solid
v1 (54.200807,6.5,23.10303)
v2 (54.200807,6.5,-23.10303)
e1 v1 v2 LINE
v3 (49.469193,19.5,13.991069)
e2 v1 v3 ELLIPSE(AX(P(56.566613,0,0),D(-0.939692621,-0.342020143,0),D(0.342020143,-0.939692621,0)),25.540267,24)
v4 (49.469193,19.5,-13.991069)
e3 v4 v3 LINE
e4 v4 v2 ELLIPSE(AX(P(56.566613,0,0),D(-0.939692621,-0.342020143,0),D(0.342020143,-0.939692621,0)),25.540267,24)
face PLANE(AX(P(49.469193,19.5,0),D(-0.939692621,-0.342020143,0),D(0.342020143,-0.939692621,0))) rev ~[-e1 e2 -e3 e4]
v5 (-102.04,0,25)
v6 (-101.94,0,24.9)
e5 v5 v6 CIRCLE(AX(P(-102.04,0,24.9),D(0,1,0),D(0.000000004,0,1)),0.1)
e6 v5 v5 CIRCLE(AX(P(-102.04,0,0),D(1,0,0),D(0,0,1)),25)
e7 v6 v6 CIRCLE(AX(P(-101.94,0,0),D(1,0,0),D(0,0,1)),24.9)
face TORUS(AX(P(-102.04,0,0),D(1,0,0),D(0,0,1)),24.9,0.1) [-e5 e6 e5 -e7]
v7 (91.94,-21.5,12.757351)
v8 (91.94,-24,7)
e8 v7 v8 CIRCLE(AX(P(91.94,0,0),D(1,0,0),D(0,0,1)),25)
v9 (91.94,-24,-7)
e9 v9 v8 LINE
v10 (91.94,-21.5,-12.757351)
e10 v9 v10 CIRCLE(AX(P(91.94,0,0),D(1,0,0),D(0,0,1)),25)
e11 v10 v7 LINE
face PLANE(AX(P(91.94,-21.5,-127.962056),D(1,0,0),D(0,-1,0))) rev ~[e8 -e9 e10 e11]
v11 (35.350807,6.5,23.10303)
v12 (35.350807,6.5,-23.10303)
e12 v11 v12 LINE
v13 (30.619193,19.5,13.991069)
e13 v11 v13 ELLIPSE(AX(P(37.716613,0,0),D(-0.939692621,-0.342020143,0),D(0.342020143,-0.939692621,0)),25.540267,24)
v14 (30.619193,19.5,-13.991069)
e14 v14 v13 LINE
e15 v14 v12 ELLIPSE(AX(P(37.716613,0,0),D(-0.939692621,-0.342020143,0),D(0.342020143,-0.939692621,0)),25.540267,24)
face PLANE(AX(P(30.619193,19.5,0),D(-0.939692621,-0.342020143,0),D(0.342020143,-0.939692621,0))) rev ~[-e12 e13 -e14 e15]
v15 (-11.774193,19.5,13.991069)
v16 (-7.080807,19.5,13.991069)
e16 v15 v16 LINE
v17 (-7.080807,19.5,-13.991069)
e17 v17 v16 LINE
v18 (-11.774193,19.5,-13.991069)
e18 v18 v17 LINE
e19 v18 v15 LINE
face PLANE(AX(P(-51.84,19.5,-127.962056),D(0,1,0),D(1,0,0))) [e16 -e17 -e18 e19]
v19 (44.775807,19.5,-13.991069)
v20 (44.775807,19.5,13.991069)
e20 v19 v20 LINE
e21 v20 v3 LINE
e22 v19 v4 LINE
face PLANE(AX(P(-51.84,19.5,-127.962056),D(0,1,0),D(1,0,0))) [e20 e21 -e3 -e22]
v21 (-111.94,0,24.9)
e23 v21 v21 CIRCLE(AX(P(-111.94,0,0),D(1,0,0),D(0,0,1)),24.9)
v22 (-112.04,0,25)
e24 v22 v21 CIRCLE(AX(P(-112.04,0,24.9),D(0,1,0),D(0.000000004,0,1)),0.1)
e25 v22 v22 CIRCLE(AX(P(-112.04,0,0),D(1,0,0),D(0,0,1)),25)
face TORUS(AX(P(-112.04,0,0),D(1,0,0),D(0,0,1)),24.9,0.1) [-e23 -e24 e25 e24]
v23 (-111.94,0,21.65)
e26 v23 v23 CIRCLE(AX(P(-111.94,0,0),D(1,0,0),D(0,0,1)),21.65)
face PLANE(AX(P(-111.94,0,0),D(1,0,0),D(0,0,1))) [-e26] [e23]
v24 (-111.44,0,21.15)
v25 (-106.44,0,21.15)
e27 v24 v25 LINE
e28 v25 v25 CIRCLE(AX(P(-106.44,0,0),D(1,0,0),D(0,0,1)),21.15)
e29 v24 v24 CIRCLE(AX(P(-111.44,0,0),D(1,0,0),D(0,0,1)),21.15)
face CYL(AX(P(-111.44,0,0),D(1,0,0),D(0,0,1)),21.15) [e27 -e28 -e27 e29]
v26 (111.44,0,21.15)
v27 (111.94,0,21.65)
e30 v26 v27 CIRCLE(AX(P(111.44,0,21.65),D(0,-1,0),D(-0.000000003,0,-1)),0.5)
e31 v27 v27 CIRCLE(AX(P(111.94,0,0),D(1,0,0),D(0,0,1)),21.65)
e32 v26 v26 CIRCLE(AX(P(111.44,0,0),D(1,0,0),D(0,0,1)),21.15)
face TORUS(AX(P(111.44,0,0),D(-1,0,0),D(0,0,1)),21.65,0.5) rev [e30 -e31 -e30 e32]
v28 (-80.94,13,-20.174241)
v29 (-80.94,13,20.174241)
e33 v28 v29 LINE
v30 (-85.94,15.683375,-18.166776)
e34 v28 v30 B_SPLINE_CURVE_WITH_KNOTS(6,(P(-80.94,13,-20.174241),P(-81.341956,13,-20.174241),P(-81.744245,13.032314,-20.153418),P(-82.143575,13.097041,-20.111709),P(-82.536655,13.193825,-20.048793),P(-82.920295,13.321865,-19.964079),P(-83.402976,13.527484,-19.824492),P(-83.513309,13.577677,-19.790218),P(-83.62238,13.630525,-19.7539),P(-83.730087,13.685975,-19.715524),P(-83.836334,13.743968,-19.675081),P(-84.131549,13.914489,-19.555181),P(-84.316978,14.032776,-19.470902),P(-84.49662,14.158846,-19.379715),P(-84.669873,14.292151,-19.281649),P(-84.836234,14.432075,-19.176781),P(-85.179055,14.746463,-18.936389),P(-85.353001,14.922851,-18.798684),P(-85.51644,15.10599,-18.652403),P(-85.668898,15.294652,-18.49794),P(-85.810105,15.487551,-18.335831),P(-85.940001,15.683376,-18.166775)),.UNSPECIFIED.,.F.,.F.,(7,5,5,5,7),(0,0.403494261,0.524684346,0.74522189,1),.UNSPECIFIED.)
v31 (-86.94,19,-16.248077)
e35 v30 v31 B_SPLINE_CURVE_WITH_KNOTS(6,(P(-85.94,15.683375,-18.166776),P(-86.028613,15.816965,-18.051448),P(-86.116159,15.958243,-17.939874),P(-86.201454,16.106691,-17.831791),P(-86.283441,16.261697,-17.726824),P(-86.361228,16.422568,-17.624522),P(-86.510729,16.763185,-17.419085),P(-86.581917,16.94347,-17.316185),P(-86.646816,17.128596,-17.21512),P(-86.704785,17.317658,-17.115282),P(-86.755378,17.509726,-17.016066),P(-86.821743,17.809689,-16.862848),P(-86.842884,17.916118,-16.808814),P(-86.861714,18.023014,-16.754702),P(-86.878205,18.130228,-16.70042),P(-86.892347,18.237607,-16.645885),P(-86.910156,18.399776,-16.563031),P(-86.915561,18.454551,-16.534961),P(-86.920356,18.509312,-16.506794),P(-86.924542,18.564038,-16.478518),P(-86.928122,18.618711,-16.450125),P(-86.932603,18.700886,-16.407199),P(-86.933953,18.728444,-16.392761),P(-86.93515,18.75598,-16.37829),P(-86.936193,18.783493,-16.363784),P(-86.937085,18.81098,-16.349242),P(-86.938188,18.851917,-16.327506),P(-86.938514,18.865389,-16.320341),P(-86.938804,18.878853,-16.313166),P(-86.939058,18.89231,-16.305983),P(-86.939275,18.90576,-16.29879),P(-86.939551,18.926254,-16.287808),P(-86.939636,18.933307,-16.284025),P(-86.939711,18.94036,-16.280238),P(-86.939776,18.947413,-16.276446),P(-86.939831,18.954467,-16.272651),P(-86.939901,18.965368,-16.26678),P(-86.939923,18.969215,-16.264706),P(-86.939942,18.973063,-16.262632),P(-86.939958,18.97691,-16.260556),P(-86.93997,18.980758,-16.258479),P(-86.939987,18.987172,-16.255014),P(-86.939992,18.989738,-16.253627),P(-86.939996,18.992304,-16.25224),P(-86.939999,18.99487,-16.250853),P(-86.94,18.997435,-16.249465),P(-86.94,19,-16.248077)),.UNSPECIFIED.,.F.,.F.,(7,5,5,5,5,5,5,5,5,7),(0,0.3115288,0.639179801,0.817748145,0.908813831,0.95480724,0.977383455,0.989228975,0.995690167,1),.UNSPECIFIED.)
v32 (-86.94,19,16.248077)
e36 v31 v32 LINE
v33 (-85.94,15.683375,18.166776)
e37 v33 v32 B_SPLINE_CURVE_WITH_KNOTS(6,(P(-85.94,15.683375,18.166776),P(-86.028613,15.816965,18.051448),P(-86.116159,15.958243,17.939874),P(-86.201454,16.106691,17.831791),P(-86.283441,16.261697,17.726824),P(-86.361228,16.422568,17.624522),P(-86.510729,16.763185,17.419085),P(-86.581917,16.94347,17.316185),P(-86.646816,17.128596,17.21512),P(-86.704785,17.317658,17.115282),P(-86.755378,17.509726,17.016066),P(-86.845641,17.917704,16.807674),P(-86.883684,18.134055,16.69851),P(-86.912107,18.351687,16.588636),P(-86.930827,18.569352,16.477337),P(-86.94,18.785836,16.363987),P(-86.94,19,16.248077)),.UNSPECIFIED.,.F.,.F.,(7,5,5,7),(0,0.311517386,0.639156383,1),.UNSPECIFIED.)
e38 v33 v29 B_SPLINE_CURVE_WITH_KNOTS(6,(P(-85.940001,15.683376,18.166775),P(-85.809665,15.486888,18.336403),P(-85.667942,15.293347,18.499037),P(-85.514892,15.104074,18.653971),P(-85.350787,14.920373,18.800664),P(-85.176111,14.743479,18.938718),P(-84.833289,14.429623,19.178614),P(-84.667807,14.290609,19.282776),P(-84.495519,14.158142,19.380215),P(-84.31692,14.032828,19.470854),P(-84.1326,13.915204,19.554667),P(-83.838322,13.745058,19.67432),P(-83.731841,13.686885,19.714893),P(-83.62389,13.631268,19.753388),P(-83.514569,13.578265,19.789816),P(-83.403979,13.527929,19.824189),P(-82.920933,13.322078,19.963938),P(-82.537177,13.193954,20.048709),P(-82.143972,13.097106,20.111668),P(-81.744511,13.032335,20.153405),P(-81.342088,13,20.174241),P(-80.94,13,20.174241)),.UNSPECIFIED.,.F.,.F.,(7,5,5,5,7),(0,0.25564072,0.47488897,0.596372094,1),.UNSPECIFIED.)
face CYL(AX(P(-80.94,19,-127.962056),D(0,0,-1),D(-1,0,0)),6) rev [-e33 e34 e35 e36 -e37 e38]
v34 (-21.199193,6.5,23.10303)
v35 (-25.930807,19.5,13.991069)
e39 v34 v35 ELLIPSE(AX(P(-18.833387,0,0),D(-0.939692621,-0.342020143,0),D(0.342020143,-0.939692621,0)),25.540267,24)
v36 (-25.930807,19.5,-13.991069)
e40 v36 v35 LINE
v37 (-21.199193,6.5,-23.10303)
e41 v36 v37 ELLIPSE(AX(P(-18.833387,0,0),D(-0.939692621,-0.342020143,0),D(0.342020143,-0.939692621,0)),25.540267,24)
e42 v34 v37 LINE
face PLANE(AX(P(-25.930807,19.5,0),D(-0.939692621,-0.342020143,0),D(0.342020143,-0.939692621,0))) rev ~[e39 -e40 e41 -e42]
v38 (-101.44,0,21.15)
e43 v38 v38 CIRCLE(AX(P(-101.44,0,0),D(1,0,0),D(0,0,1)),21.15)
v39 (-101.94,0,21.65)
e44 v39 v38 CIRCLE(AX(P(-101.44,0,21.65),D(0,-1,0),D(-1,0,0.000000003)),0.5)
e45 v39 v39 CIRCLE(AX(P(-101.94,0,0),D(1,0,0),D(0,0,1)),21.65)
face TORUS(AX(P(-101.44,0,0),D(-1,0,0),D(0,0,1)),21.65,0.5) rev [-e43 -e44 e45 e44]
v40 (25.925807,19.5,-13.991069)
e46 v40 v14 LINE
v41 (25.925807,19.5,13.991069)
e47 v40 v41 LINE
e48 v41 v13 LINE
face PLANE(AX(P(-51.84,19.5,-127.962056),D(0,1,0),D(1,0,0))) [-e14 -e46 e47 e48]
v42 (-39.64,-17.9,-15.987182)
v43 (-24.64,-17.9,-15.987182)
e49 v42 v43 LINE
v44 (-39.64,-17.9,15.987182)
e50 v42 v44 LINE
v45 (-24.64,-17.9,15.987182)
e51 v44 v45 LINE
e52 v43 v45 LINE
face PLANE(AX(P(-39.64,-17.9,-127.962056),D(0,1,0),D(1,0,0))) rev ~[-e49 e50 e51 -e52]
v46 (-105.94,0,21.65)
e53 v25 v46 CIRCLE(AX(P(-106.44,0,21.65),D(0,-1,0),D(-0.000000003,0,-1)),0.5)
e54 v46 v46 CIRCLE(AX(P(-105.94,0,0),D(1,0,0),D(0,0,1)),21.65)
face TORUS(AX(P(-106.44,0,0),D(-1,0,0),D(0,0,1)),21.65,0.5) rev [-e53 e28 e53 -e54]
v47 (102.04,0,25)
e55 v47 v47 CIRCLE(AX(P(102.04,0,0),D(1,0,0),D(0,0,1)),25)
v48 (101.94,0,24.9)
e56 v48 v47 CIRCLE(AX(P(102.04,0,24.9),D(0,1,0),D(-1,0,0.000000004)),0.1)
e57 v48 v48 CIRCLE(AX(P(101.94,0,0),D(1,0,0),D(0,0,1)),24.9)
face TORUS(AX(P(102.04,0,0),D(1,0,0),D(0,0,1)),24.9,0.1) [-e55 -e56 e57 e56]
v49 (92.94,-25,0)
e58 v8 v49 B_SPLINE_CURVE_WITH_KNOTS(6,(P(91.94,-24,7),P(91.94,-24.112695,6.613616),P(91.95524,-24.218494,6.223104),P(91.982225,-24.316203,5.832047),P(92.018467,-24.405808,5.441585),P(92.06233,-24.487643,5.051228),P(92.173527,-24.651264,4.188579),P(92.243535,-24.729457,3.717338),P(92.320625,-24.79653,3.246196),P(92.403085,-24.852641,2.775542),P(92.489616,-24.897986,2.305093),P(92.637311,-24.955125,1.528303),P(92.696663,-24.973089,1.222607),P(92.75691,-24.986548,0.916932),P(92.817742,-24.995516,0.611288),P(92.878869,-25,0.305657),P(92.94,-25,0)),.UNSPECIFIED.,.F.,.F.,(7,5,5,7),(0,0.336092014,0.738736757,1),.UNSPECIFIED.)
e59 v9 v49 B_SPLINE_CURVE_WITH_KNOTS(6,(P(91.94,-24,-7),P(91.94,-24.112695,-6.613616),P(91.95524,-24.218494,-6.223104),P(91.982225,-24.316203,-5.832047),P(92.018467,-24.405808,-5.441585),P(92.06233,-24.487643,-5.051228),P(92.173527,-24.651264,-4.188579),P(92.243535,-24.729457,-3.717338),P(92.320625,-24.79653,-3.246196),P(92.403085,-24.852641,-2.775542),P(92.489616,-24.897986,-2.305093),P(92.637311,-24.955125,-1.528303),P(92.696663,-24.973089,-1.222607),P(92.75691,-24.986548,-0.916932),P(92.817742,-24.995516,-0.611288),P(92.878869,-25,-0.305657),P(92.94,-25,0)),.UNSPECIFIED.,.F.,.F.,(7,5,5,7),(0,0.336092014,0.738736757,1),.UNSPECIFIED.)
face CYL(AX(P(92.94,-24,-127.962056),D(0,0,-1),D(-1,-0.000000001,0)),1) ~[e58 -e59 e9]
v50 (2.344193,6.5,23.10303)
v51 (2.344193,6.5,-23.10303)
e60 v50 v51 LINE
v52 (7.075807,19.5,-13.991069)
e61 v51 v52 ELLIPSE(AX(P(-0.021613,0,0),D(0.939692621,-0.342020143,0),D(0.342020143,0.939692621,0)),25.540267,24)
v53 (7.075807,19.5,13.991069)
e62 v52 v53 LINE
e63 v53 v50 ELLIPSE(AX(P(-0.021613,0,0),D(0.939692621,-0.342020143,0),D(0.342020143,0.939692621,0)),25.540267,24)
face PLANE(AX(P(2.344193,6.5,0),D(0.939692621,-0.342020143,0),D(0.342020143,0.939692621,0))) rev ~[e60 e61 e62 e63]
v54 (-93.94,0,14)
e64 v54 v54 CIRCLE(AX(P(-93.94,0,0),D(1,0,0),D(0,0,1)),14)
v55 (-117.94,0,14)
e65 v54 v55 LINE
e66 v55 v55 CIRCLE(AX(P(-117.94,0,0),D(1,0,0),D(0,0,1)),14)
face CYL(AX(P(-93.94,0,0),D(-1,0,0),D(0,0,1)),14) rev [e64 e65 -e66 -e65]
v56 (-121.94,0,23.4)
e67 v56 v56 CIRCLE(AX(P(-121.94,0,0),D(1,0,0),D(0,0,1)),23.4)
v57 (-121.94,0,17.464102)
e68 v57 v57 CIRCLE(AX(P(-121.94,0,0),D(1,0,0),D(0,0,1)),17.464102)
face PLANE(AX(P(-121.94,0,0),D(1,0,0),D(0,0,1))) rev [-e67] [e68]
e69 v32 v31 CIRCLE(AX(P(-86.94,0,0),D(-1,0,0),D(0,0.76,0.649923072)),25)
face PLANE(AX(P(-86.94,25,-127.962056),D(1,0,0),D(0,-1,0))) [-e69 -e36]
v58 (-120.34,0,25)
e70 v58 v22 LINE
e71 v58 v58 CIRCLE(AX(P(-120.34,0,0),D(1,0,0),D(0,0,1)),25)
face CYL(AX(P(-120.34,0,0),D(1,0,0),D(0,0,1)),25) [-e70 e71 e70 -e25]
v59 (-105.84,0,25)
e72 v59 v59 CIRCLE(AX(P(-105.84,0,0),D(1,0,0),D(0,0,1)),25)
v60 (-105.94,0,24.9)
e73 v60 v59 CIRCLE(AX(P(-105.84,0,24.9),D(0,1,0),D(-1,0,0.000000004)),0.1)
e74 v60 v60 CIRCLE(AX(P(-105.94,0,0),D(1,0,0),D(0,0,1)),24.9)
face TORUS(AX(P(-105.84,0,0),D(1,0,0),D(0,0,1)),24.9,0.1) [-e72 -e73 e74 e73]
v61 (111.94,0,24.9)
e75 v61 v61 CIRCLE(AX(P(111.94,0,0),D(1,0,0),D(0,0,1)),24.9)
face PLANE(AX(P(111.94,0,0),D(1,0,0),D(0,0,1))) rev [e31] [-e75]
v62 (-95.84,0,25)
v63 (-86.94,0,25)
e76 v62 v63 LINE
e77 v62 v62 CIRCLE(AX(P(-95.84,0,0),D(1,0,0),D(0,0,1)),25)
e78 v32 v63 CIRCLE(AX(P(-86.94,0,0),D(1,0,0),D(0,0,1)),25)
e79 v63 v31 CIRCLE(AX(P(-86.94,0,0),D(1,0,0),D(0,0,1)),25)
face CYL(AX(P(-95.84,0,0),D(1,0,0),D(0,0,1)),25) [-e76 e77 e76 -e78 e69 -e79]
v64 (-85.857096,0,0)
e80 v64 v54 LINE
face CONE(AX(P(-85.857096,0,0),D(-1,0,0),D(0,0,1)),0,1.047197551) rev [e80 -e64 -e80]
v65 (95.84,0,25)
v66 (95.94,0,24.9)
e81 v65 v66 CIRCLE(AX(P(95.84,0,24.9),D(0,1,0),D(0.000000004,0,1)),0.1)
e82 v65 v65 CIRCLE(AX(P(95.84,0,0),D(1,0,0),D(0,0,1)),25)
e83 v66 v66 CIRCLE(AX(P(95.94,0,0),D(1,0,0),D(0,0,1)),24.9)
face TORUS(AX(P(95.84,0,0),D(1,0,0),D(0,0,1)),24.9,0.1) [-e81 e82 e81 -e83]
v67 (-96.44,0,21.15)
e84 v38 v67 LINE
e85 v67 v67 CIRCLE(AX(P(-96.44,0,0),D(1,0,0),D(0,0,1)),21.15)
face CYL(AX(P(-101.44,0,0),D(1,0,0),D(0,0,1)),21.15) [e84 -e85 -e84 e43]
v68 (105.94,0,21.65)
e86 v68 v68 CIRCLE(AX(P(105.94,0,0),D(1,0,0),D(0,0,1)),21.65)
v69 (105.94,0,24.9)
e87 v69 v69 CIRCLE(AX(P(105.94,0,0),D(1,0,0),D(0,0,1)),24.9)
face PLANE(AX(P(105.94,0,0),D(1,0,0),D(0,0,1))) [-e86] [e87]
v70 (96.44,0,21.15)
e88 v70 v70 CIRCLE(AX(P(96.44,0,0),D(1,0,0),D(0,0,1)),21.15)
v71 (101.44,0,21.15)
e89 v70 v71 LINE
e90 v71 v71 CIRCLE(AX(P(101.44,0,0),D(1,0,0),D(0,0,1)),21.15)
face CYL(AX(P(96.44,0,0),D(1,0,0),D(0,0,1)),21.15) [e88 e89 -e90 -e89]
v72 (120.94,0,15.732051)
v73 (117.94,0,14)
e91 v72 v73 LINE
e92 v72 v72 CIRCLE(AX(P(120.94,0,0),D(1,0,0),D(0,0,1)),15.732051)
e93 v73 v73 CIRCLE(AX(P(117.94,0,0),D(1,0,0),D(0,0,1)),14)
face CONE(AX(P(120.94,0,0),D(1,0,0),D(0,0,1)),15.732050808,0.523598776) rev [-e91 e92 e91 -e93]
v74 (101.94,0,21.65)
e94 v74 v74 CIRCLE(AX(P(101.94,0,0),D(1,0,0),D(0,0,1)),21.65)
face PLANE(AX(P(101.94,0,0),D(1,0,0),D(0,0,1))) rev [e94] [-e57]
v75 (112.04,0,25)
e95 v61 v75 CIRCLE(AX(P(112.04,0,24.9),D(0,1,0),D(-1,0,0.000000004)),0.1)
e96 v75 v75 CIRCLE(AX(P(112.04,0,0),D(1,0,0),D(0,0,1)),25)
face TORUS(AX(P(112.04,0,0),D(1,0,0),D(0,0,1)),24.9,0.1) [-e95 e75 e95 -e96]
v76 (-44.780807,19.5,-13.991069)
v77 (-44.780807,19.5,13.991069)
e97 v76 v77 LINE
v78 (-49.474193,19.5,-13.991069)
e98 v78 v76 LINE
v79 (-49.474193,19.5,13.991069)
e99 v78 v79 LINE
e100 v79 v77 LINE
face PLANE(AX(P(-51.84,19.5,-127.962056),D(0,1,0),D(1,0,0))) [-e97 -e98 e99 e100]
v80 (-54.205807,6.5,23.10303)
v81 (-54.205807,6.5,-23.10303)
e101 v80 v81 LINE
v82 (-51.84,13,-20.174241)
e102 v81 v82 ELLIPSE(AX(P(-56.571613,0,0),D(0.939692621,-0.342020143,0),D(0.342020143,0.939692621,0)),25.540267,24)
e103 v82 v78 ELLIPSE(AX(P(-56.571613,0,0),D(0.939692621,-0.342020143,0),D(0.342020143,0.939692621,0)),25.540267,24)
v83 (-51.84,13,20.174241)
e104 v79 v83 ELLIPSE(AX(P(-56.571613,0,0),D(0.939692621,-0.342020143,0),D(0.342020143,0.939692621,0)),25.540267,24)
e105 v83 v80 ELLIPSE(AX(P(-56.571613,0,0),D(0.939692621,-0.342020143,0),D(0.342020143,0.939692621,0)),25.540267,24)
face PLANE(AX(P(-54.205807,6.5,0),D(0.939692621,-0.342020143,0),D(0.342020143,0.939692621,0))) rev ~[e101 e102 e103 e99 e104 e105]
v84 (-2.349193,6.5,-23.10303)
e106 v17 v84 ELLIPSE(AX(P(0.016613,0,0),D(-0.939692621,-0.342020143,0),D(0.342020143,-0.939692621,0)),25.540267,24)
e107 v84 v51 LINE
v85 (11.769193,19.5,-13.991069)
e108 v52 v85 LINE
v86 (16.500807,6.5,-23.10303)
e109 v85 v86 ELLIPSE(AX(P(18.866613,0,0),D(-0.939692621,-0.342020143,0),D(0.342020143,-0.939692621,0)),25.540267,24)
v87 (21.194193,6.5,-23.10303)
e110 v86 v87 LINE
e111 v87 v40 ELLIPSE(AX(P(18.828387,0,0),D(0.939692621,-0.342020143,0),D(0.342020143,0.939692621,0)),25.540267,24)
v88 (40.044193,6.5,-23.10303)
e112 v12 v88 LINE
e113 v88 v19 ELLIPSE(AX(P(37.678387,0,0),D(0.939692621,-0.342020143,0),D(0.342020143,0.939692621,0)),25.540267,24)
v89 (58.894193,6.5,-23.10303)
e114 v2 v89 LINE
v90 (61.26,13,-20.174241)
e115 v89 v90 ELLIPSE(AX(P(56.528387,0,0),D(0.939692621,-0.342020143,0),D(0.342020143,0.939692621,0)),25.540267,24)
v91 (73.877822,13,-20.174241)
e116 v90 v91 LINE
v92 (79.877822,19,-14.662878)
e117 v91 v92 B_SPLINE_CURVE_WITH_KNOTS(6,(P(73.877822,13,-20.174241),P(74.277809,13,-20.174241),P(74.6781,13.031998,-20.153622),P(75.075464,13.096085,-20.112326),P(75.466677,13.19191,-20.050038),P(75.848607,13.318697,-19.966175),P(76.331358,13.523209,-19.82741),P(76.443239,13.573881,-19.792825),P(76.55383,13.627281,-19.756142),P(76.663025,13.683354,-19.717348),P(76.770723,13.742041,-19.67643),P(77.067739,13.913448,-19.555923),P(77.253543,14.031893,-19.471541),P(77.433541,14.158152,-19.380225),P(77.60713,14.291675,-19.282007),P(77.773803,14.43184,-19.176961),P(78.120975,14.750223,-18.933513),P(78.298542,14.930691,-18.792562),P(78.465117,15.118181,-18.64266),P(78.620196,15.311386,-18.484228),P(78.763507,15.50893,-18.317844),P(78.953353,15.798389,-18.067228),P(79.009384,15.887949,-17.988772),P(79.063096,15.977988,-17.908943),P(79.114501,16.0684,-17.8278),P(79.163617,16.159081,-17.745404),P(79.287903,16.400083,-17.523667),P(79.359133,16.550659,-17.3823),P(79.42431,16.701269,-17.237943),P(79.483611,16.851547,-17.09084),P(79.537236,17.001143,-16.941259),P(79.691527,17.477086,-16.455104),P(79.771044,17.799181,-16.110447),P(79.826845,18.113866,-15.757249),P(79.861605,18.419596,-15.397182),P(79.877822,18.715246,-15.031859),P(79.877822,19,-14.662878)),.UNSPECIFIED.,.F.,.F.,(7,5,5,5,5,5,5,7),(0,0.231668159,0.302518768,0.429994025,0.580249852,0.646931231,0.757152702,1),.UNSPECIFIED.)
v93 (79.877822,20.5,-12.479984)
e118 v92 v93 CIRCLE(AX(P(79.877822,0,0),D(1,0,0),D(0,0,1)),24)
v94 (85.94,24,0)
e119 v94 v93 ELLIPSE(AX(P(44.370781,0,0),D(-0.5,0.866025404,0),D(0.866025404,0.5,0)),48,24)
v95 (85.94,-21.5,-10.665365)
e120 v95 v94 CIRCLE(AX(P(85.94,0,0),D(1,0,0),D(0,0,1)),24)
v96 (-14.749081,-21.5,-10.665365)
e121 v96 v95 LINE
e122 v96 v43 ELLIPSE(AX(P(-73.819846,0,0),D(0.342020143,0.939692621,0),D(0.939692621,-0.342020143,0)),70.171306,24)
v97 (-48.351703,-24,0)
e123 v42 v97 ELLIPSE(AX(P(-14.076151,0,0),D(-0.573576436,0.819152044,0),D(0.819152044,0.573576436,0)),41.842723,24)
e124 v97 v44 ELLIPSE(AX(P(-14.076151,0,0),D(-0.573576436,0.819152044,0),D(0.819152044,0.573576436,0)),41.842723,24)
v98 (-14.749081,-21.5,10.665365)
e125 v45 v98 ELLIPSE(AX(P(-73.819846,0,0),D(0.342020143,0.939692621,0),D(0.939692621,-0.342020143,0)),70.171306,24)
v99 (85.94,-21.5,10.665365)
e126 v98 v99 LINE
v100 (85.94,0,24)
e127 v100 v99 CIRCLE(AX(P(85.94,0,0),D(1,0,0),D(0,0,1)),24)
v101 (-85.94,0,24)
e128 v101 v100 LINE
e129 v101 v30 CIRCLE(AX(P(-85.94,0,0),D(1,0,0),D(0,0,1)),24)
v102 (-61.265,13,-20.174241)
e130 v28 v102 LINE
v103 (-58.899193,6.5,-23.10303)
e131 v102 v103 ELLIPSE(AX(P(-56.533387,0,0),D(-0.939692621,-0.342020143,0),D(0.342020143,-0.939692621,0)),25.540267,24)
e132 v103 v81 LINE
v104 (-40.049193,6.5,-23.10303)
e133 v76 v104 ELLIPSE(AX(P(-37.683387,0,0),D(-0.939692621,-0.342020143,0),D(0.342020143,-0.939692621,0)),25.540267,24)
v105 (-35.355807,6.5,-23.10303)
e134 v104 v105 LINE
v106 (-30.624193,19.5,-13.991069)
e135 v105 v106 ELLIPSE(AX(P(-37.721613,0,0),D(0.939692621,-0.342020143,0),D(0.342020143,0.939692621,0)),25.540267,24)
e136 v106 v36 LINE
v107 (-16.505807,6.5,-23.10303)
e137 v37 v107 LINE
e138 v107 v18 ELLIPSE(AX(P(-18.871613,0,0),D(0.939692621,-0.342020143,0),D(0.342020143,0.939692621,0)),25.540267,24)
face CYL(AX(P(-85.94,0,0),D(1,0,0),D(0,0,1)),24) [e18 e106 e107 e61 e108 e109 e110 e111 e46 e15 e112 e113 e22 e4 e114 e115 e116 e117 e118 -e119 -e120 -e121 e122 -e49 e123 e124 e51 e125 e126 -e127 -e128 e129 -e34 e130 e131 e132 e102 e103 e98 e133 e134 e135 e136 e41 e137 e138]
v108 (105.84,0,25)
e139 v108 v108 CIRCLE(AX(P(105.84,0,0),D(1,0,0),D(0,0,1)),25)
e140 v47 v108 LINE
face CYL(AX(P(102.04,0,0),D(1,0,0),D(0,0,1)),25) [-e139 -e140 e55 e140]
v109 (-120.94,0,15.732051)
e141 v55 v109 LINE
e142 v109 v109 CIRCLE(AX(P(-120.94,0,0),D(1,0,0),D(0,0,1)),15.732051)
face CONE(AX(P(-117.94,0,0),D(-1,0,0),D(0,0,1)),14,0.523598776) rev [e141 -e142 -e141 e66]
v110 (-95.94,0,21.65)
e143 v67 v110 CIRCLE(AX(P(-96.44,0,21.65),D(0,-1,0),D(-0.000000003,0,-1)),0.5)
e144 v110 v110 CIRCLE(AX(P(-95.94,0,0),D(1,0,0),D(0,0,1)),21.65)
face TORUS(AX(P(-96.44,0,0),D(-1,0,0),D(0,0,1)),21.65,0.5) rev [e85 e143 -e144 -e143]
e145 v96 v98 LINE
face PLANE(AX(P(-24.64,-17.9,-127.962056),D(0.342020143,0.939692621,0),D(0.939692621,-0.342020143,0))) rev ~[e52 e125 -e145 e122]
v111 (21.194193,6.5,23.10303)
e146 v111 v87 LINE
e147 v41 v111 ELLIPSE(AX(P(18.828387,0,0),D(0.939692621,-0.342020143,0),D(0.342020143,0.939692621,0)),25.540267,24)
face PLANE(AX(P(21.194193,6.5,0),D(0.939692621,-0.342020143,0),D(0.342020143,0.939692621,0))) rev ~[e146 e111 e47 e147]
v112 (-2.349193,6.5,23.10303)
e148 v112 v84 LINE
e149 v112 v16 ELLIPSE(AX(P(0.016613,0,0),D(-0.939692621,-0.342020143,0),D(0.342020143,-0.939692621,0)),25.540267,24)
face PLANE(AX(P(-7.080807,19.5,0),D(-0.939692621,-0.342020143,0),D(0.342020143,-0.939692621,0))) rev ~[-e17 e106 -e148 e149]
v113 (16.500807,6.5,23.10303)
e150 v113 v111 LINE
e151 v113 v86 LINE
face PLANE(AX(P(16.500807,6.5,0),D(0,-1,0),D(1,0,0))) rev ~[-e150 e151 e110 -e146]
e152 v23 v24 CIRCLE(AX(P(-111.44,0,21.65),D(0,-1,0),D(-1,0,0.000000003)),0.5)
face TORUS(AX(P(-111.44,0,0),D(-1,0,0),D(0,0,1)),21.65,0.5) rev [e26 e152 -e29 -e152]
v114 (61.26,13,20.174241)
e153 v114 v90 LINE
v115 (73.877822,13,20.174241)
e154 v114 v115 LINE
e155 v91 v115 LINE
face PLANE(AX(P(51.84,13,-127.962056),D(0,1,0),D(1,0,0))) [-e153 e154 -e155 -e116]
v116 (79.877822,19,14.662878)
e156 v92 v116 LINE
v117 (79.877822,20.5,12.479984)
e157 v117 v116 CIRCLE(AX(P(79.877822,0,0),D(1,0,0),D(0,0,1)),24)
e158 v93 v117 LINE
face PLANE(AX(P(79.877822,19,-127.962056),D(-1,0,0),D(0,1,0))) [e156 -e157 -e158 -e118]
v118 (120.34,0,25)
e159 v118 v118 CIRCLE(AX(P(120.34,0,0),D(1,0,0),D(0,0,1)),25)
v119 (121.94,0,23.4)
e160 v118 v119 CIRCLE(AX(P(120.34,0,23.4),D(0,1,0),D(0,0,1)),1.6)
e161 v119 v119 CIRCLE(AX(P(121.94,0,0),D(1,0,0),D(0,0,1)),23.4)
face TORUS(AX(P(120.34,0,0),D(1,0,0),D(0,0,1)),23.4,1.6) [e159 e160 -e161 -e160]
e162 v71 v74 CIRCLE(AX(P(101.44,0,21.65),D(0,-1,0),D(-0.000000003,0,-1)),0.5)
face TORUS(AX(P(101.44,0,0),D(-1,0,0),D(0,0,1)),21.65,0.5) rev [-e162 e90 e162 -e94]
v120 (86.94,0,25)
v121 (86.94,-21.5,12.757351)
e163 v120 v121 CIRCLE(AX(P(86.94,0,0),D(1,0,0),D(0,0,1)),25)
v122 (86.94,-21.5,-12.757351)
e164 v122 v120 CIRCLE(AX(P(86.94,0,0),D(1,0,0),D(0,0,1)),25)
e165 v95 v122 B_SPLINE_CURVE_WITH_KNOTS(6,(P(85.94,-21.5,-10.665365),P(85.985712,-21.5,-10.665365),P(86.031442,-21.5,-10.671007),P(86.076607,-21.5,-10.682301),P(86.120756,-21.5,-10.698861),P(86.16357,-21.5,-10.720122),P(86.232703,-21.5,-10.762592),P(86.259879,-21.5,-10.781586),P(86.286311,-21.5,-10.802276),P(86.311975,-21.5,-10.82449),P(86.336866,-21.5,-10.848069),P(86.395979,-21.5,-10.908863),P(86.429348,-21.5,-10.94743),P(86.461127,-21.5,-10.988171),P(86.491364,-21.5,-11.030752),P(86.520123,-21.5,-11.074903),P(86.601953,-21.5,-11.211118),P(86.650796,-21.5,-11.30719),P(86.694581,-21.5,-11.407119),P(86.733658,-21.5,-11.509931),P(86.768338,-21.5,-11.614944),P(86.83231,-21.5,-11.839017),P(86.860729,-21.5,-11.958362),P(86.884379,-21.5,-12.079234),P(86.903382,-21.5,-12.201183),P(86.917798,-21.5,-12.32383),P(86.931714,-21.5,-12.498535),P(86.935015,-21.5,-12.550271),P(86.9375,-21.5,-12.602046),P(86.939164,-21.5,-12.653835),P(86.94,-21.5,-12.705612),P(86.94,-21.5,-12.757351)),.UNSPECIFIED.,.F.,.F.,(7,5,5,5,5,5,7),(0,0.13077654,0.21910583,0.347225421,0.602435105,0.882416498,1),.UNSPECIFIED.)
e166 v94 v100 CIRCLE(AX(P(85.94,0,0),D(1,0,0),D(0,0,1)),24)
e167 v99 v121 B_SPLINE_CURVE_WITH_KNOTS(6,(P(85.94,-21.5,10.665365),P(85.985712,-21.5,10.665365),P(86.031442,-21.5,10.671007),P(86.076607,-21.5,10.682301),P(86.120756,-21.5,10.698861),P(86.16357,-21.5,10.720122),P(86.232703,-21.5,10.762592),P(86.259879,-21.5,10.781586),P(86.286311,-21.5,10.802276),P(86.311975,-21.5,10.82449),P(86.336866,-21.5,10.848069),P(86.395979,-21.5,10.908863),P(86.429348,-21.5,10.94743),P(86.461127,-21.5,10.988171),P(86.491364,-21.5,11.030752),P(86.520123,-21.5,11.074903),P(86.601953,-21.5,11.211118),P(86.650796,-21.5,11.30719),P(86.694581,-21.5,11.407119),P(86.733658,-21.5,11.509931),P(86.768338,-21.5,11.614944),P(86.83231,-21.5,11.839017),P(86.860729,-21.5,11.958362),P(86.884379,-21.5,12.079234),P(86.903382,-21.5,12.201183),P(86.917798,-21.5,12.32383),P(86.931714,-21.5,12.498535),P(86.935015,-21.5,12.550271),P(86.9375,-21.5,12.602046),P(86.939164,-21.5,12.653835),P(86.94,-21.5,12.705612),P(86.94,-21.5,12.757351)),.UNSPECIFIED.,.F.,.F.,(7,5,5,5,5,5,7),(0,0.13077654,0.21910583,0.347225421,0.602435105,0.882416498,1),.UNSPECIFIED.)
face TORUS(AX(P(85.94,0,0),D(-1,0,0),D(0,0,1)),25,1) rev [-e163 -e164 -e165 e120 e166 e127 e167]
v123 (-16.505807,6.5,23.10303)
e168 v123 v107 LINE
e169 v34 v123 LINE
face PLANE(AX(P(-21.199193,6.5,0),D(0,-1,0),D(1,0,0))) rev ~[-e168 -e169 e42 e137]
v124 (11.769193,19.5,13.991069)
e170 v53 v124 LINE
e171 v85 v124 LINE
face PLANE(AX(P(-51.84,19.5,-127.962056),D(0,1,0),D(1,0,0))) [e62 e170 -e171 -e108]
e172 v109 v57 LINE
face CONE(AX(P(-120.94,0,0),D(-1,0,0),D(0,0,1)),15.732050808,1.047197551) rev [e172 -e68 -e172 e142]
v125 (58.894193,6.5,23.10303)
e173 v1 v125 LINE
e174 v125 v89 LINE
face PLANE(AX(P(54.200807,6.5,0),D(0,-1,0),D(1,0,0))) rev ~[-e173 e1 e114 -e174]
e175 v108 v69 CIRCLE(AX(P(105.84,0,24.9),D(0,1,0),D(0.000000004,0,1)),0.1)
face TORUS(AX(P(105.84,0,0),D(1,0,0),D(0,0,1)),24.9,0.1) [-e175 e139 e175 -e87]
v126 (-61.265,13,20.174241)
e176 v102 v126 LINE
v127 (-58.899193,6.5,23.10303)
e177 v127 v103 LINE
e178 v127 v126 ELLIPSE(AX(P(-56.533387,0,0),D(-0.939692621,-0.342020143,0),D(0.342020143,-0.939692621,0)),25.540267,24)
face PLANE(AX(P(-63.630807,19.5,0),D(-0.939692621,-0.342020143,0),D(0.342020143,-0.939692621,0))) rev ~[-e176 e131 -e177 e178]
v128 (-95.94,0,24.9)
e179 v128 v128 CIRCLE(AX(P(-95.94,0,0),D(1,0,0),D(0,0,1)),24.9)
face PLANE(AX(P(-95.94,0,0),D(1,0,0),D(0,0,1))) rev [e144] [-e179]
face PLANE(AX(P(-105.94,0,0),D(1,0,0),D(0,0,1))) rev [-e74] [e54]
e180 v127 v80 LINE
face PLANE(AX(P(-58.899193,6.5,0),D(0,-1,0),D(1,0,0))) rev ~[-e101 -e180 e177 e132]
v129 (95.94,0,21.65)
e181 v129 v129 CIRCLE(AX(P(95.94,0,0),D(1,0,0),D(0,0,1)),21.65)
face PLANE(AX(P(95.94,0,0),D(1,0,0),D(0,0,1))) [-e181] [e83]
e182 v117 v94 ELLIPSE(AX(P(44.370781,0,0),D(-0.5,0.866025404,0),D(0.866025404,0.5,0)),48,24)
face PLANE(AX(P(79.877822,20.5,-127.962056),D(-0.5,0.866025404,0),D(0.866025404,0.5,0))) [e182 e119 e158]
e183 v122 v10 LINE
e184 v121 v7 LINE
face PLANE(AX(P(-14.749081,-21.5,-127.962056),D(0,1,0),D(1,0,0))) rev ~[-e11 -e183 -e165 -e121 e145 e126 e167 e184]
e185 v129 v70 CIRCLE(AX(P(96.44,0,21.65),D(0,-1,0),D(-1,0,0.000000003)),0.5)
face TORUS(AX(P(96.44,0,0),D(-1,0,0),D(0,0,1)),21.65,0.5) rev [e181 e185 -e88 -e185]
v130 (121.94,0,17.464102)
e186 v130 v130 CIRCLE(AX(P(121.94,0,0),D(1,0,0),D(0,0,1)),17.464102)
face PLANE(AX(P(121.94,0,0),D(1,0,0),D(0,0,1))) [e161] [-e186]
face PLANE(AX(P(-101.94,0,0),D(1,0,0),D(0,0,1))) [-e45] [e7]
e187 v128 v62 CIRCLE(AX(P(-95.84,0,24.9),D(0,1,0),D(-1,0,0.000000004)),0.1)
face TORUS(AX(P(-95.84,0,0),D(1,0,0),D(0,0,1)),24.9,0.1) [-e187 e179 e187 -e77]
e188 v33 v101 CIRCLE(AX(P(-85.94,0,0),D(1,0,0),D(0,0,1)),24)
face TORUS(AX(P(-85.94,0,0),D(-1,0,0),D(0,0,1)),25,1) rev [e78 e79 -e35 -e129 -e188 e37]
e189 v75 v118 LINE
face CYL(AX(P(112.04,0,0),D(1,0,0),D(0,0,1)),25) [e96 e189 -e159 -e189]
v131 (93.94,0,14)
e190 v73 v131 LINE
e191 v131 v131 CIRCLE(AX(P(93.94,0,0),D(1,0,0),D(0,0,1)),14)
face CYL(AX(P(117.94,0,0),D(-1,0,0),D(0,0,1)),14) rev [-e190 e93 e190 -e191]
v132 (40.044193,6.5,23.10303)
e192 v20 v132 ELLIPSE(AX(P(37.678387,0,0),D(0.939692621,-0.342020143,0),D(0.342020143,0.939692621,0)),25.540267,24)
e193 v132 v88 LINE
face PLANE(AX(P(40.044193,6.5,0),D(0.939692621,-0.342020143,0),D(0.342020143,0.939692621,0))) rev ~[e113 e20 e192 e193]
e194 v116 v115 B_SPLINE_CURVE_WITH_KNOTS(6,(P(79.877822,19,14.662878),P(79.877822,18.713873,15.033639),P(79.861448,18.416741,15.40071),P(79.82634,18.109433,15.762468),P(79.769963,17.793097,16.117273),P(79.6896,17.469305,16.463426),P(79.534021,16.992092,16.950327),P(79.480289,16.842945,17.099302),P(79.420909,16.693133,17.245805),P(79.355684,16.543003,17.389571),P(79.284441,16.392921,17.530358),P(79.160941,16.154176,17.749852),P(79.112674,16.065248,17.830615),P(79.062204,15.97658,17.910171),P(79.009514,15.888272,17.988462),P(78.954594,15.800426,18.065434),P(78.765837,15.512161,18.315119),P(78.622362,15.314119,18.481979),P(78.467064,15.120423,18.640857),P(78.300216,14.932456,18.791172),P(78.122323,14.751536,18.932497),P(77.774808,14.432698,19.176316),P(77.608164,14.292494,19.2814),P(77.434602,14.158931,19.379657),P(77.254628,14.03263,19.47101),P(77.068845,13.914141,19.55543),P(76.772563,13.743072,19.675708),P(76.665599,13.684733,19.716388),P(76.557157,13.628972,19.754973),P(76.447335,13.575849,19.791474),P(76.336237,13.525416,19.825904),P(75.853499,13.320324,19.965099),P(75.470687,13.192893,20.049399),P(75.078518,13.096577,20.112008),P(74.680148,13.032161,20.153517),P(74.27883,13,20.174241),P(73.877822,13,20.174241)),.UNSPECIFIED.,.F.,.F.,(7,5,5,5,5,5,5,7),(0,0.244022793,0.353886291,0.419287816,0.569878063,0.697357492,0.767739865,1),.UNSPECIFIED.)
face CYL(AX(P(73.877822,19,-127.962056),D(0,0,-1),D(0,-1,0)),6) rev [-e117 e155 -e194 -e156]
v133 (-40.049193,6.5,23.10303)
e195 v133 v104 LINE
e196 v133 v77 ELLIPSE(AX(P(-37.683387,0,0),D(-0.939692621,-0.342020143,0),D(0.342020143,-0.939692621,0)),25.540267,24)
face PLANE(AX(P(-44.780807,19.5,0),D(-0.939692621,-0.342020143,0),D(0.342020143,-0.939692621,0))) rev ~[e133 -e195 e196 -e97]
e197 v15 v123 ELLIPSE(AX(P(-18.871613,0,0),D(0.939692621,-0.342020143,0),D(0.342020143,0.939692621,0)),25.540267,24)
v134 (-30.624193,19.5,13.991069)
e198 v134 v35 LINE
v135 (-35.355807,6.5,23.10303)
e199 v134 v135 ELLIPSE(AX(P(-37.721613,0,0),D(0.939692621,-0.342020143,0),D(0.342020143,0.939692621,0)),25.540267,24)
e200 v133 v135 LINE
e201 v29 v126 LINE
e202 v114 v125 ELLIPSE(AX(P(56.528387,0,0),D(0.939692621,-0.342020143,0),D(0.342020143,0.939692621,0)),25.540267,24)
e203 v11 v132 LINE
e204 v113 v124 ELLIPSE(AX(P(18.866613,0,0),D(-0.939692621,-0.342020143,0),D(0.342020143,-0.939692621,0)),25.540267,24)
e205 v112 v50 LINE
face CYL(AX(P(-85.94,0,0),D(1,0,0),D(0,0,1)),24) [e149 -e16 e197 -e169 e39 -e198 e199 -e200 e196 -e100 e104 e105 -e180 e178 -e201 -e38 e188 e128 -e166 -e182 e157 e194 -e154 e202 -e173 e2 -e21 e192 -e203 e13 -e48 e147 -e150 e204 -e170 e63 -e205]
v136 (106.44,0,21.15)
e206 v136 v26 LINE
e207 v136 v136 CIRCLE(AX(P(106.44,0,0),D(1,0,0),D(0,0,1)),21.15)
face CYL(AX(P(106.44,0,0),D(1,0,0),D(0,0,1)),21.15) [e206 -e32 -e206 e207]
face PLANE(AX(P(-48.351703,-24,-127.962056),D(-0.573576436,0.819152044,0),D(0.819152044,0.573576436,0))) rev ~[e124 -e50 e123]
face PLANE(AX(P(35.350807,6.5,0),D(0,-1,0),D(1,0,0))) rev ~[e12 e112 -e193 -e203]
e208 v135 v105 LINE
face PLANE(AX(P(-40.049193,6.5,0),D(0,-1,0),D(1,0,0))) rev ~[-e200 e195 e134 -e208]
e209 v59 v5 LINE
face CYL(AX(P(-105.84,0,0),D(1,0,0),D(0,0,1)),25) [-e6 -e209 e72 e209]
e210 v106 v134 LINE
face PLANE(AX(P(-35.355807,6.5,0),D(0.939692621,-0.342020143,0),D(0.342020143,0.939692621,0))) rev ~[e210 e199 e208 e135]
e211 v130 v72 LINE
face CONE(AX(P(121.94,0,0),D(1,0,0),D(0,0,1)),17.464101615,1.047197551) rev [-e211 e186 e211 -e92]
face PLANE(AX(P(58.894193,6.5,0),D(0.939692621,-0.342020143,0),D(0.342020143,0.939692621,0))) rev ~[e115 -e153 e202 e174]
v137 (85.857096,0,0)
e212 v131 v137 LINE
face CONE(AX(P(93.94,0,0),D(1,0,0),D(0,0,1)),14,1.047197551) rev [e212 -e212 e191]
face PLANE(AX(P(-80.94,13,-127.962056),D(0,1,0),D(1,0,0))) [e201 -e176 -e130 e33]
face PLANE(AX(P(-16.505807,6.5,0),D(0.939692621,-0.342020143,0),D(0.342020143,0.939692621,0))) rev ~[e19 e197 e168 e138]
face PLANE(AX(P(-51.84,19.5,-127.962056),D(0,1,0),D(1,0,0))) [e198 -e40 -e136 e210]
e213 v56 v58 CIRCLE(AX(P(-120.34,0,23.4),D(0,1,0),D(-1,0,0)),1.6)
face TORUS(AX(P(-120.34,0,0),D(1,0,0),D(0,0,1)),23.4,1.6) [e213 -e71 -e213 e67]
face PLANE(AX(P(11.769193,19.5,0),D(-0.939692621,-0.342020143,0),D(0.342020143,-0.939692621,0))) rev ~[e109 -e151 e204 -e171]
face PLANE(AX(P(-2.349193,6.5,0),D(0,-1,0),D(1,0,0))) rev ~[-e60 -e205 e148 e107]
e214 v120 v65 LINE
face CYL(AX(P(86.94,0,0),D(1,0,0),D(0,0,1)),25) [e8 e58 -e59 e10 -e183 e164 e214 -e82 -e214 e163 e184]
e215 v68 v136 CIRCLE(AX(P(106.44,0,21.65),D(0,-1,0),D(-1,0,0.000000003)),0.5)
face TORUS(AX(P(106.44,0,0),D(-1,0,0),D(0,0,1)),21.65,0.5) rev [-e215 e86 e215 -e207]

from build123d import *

# Parameters (mm, degrees)
CUT_EXTRUDE_1_DEPTH      = 127.962055884
CUT_EXTRUDE_1_DEPTH_BACK = 127.962055884
CUT_EXTRUDE_3_DEPTH      = 127.962055884
CUT_EXTRUDE_3_DEPTH_BACK = 127.962055884
CUT_EXTRUDE_2_DEPTH      = 127.962055884
PATTERN_LINEAR_2_COUNT   = 7
PATTERN_LINEAR_2_PITCH   = 18.85


with BuildPart() as part:
    # Эскиз1 → Повернуть1 (revolve)
    with BuildSketch(Plane.XY, mode=Mode.PRIVATE) as revolve_1_sk:
        with BuildLine():
            Line((-121.94, 17.464101615), (-121.94, 23.4))
            ThreePointArc((-121.94, 23.4), (-121.47137085, 24.53137085), (-120.34, 25))
            Line((-120.34, 25), (-112.04, 25))
            ThreePointArc((-112.04, 25), (-111.969289322, 24.970710678), (-111.94, 24.9))
            Line((-111.94, 24.9), (-111.94, 21.65))
            ThreePointArc((-111.94, 21.65), (-111.793553391, 21.296446609), (-111.44, 21.15))
            Line((-111.44, 21.15), (-106.44, 21.15))
            ThreePointArc((-106.44, 21.15), (-106.086446609, 21.296446609), (-105.94, 21.65))
            Line((-105.94, 21.65), (-105.94, 24.9))
            ThreePointArc((-105.94, 24.9), (-105.910710678, 24.970710678), (-105.84, 25))
            Line((-105.84, 25), (-102.04, 25))
            ThreePointArc((-102.04, 25), (-101.969289322, 24.970710678), (-101.94, 24.9))
            Line((-101.94, 24.9), (-101.94, 21.65))
            ThreePointArc((-101.94, 21.65), (-101.793553391, 21.296446609), (-101.44, 21.15))
            Line((-101.44, 21.15), (-96.44, 21.15))
            ThreePointArc((-96.44, 21.15), (-96.086446609, 21.296446609), (-95.94, 21.65))
            Line((-95.94, 21.65), (-95.94, 24.9))
            ThreePointArc((-95.94, 24.9), (-95.910710678, 24.970710678), (-95.84, 25))
            Line((-95.84, 25), (-86.94, 25))
            ThreePointArc((-86.94, 25), (-86.647106781, 24.292893219), (-85.94, 24))
            Line((-85.94, 24), (85.94, 24))
            ThreePointArc((85.94, 24), (86.647106781, 24.292893219), (86.94, 25))
            Line((86.94, 25), (95.84, 25))
            ThreePointArc((95.84, 25), (95.910710678, 24.970710678), (95.94, 24.9))
            Line((95.94, 24.9), (95.94, 21.65))
            ThreePointArc((95.94, 21.65), (96.086446609, 21.296446609), (96.44, 21.15))
            Line((96.44, 21.15), (101.44, 21.15))
            ThreePointArc((101.44, 21.15), (101.793553391, 21.296446609), (101.94, 21.65))
            Line((101.94, 21.65), (101.94, 24.9))
            ThreePointArc((101.94, 24.9), (101.969289322, 24.970710678), (102.04, 25))
            Line((102.04, 25), (105.84, 25))
            ThreePointArc((105.84, 25), (105.910710678, 24.970710678), (105.94, 24.9))
            Line((105.94, 24.9), (105.94, 21.65))
            ThreePointArc((105.94, 21.65), (106.086446609, 21.296446609), (106.44, 21.15))
            Line((106.44, 21.15), (111.44, 21.15))
            ThreePointArc((111.44, 21.15), (111.793553391, 21.296446609), (111.94, 21.65))
            Line((111.94, 21.65), (111.94, 24.9))
            ThreePointArc((111.94, 24.9), (111.969289322, 24.970710678), (112.04, 25))
            Line((112.04, 25), (120.34, 25))
            ThreePointArc((120.34, 25), (121.47137085, 24.53137085), (121.94, 23.4))
            Line((121.94, 23.4), (121.94, 17.464101615))
            Line((121.94, 17.464101615), (120.94, 15.732050808))
            Line((120.94, 15.732050808), (117.94, 14))
            Line((117.94, 14), (93.94, 14))
            Line((93.94, 14), (85.857096231, 0))
            Line((85.857096231, 0), (-85.857096231, 0))
            Line((-85.857096231, 0), (-93.94, 14))
            Line((-93.94, 14), (-117.94, 14))
            Line((-117.94, 14), (-120.94, 15.732050808))
            Line((-120.94, 15.732050808), (-121.94, 17.464101615))
        make_face()
    revolve(revolve_1_sk.sketch.rotate(Axis((-137.65589045, 0, 0), (1, 0, 0)), 90), axis=Axis((-137.65589045, 0, 0), (1, 0, 0)))

    # Эскиз3 → Вырез-Вытянуть1 (cut, two sides: drawn at the far end of the back side and taken through both)
    with BuildSketch(Plane.XY.offset(-CUT_EXTRUDE_1_DEPTH_BACK)):
        with BuildLine():
            Line((-86.94, 25), (-86.94, 19))
            ThreePointArc((-86.94, 19), (-85.182640687, 14.757359313), (-80.94, 13))
            Line((-80.94, 13), (-51.84, 13))
            Line((-51.84, 13), (-51.84, 19.5))
            Line((-51.84, 19.5), (51.84, 19.5))
            Line((51.84, 19.5), (51.84, 13))
            Line((51.84, 13), (73.877822174, 13))
            ThreePointArc((73.877822174, 13), (78.120462861, 14.757359313), (79.877822174, 19))
            Line((79.877822174, 19), (79.877822174, 20.5))
            Line((79.877822174, 20.5), (85.94, 24))
            Line((85.94, 24), (85.94, 25))
            Line((85.94, 25), (-86.94, 25))
        make_face()
    extrude(amount=CUT_EXTRUDE_1_DEPTH + CUT_EXTRUDE_1_DEPTH_BACK, mode=Mode.SUBTRACT)

    # Эскиз5 → Вырез-Вытянуть3 (cut, two sides: drawn at the far end of the back side and taken through both)
    with BuildSketch(Plane.XY.offset(-CUT_EXTRUDE_3_DEPTH_BACK)):
        with BuildLine():
            Line((-48.351702841, -24), (-39.64, -17.9))
            Line((-39.64, -17.9), (-24.64, -17.9))
            Line((-24.64, -17.9), (-14.74908129, -21.5))
            Line((-14.74908129, -21.5), (91.94, -21.5))
            Line((91.94, -21.5), (91.94, -24))
            ThreePointArc((91.94, -24), (92.232893219, -24.707106781), (92.94, -25))
            Line((92.94, -25), (-48.351702841, -25))
            Line((-48.351702841, -25), (-48.351702841, -24))
        make_face()
    extrude(amount=CUT_EXTRUDE_3_DEPTH + CUT_EXTRUDE_3_DEPTH_BACK, mode=Mode.SUBTRACT)

    # Эскиз4 → Вырез-Вытянуть2 (cut, symmetric)
    with BuildSketch(Plane.XY):
        Polygon((-54.205806523, 6.5), (-49.474193477, 19.5), (-63.630806523, 19.5), (-58.899193477, 6.5), align=None)
    cut_extrude_2 = extrude(amount=CUT_EXTRUDE_2_DEPTH, both=True, mode=Mode.SUBTRACT)

    # Линейный массив2: Вырез-Вытянуть2 ×7
    with Locations(*[(i * PATTERN_LINEAR_2_PITCH, 0, 0) for i in range(1, PATTERN_LINEAR_2_COUNT)]):
        add(cut_extrude_2, mode=Mode.SUBTRACT)


solid = part.part
